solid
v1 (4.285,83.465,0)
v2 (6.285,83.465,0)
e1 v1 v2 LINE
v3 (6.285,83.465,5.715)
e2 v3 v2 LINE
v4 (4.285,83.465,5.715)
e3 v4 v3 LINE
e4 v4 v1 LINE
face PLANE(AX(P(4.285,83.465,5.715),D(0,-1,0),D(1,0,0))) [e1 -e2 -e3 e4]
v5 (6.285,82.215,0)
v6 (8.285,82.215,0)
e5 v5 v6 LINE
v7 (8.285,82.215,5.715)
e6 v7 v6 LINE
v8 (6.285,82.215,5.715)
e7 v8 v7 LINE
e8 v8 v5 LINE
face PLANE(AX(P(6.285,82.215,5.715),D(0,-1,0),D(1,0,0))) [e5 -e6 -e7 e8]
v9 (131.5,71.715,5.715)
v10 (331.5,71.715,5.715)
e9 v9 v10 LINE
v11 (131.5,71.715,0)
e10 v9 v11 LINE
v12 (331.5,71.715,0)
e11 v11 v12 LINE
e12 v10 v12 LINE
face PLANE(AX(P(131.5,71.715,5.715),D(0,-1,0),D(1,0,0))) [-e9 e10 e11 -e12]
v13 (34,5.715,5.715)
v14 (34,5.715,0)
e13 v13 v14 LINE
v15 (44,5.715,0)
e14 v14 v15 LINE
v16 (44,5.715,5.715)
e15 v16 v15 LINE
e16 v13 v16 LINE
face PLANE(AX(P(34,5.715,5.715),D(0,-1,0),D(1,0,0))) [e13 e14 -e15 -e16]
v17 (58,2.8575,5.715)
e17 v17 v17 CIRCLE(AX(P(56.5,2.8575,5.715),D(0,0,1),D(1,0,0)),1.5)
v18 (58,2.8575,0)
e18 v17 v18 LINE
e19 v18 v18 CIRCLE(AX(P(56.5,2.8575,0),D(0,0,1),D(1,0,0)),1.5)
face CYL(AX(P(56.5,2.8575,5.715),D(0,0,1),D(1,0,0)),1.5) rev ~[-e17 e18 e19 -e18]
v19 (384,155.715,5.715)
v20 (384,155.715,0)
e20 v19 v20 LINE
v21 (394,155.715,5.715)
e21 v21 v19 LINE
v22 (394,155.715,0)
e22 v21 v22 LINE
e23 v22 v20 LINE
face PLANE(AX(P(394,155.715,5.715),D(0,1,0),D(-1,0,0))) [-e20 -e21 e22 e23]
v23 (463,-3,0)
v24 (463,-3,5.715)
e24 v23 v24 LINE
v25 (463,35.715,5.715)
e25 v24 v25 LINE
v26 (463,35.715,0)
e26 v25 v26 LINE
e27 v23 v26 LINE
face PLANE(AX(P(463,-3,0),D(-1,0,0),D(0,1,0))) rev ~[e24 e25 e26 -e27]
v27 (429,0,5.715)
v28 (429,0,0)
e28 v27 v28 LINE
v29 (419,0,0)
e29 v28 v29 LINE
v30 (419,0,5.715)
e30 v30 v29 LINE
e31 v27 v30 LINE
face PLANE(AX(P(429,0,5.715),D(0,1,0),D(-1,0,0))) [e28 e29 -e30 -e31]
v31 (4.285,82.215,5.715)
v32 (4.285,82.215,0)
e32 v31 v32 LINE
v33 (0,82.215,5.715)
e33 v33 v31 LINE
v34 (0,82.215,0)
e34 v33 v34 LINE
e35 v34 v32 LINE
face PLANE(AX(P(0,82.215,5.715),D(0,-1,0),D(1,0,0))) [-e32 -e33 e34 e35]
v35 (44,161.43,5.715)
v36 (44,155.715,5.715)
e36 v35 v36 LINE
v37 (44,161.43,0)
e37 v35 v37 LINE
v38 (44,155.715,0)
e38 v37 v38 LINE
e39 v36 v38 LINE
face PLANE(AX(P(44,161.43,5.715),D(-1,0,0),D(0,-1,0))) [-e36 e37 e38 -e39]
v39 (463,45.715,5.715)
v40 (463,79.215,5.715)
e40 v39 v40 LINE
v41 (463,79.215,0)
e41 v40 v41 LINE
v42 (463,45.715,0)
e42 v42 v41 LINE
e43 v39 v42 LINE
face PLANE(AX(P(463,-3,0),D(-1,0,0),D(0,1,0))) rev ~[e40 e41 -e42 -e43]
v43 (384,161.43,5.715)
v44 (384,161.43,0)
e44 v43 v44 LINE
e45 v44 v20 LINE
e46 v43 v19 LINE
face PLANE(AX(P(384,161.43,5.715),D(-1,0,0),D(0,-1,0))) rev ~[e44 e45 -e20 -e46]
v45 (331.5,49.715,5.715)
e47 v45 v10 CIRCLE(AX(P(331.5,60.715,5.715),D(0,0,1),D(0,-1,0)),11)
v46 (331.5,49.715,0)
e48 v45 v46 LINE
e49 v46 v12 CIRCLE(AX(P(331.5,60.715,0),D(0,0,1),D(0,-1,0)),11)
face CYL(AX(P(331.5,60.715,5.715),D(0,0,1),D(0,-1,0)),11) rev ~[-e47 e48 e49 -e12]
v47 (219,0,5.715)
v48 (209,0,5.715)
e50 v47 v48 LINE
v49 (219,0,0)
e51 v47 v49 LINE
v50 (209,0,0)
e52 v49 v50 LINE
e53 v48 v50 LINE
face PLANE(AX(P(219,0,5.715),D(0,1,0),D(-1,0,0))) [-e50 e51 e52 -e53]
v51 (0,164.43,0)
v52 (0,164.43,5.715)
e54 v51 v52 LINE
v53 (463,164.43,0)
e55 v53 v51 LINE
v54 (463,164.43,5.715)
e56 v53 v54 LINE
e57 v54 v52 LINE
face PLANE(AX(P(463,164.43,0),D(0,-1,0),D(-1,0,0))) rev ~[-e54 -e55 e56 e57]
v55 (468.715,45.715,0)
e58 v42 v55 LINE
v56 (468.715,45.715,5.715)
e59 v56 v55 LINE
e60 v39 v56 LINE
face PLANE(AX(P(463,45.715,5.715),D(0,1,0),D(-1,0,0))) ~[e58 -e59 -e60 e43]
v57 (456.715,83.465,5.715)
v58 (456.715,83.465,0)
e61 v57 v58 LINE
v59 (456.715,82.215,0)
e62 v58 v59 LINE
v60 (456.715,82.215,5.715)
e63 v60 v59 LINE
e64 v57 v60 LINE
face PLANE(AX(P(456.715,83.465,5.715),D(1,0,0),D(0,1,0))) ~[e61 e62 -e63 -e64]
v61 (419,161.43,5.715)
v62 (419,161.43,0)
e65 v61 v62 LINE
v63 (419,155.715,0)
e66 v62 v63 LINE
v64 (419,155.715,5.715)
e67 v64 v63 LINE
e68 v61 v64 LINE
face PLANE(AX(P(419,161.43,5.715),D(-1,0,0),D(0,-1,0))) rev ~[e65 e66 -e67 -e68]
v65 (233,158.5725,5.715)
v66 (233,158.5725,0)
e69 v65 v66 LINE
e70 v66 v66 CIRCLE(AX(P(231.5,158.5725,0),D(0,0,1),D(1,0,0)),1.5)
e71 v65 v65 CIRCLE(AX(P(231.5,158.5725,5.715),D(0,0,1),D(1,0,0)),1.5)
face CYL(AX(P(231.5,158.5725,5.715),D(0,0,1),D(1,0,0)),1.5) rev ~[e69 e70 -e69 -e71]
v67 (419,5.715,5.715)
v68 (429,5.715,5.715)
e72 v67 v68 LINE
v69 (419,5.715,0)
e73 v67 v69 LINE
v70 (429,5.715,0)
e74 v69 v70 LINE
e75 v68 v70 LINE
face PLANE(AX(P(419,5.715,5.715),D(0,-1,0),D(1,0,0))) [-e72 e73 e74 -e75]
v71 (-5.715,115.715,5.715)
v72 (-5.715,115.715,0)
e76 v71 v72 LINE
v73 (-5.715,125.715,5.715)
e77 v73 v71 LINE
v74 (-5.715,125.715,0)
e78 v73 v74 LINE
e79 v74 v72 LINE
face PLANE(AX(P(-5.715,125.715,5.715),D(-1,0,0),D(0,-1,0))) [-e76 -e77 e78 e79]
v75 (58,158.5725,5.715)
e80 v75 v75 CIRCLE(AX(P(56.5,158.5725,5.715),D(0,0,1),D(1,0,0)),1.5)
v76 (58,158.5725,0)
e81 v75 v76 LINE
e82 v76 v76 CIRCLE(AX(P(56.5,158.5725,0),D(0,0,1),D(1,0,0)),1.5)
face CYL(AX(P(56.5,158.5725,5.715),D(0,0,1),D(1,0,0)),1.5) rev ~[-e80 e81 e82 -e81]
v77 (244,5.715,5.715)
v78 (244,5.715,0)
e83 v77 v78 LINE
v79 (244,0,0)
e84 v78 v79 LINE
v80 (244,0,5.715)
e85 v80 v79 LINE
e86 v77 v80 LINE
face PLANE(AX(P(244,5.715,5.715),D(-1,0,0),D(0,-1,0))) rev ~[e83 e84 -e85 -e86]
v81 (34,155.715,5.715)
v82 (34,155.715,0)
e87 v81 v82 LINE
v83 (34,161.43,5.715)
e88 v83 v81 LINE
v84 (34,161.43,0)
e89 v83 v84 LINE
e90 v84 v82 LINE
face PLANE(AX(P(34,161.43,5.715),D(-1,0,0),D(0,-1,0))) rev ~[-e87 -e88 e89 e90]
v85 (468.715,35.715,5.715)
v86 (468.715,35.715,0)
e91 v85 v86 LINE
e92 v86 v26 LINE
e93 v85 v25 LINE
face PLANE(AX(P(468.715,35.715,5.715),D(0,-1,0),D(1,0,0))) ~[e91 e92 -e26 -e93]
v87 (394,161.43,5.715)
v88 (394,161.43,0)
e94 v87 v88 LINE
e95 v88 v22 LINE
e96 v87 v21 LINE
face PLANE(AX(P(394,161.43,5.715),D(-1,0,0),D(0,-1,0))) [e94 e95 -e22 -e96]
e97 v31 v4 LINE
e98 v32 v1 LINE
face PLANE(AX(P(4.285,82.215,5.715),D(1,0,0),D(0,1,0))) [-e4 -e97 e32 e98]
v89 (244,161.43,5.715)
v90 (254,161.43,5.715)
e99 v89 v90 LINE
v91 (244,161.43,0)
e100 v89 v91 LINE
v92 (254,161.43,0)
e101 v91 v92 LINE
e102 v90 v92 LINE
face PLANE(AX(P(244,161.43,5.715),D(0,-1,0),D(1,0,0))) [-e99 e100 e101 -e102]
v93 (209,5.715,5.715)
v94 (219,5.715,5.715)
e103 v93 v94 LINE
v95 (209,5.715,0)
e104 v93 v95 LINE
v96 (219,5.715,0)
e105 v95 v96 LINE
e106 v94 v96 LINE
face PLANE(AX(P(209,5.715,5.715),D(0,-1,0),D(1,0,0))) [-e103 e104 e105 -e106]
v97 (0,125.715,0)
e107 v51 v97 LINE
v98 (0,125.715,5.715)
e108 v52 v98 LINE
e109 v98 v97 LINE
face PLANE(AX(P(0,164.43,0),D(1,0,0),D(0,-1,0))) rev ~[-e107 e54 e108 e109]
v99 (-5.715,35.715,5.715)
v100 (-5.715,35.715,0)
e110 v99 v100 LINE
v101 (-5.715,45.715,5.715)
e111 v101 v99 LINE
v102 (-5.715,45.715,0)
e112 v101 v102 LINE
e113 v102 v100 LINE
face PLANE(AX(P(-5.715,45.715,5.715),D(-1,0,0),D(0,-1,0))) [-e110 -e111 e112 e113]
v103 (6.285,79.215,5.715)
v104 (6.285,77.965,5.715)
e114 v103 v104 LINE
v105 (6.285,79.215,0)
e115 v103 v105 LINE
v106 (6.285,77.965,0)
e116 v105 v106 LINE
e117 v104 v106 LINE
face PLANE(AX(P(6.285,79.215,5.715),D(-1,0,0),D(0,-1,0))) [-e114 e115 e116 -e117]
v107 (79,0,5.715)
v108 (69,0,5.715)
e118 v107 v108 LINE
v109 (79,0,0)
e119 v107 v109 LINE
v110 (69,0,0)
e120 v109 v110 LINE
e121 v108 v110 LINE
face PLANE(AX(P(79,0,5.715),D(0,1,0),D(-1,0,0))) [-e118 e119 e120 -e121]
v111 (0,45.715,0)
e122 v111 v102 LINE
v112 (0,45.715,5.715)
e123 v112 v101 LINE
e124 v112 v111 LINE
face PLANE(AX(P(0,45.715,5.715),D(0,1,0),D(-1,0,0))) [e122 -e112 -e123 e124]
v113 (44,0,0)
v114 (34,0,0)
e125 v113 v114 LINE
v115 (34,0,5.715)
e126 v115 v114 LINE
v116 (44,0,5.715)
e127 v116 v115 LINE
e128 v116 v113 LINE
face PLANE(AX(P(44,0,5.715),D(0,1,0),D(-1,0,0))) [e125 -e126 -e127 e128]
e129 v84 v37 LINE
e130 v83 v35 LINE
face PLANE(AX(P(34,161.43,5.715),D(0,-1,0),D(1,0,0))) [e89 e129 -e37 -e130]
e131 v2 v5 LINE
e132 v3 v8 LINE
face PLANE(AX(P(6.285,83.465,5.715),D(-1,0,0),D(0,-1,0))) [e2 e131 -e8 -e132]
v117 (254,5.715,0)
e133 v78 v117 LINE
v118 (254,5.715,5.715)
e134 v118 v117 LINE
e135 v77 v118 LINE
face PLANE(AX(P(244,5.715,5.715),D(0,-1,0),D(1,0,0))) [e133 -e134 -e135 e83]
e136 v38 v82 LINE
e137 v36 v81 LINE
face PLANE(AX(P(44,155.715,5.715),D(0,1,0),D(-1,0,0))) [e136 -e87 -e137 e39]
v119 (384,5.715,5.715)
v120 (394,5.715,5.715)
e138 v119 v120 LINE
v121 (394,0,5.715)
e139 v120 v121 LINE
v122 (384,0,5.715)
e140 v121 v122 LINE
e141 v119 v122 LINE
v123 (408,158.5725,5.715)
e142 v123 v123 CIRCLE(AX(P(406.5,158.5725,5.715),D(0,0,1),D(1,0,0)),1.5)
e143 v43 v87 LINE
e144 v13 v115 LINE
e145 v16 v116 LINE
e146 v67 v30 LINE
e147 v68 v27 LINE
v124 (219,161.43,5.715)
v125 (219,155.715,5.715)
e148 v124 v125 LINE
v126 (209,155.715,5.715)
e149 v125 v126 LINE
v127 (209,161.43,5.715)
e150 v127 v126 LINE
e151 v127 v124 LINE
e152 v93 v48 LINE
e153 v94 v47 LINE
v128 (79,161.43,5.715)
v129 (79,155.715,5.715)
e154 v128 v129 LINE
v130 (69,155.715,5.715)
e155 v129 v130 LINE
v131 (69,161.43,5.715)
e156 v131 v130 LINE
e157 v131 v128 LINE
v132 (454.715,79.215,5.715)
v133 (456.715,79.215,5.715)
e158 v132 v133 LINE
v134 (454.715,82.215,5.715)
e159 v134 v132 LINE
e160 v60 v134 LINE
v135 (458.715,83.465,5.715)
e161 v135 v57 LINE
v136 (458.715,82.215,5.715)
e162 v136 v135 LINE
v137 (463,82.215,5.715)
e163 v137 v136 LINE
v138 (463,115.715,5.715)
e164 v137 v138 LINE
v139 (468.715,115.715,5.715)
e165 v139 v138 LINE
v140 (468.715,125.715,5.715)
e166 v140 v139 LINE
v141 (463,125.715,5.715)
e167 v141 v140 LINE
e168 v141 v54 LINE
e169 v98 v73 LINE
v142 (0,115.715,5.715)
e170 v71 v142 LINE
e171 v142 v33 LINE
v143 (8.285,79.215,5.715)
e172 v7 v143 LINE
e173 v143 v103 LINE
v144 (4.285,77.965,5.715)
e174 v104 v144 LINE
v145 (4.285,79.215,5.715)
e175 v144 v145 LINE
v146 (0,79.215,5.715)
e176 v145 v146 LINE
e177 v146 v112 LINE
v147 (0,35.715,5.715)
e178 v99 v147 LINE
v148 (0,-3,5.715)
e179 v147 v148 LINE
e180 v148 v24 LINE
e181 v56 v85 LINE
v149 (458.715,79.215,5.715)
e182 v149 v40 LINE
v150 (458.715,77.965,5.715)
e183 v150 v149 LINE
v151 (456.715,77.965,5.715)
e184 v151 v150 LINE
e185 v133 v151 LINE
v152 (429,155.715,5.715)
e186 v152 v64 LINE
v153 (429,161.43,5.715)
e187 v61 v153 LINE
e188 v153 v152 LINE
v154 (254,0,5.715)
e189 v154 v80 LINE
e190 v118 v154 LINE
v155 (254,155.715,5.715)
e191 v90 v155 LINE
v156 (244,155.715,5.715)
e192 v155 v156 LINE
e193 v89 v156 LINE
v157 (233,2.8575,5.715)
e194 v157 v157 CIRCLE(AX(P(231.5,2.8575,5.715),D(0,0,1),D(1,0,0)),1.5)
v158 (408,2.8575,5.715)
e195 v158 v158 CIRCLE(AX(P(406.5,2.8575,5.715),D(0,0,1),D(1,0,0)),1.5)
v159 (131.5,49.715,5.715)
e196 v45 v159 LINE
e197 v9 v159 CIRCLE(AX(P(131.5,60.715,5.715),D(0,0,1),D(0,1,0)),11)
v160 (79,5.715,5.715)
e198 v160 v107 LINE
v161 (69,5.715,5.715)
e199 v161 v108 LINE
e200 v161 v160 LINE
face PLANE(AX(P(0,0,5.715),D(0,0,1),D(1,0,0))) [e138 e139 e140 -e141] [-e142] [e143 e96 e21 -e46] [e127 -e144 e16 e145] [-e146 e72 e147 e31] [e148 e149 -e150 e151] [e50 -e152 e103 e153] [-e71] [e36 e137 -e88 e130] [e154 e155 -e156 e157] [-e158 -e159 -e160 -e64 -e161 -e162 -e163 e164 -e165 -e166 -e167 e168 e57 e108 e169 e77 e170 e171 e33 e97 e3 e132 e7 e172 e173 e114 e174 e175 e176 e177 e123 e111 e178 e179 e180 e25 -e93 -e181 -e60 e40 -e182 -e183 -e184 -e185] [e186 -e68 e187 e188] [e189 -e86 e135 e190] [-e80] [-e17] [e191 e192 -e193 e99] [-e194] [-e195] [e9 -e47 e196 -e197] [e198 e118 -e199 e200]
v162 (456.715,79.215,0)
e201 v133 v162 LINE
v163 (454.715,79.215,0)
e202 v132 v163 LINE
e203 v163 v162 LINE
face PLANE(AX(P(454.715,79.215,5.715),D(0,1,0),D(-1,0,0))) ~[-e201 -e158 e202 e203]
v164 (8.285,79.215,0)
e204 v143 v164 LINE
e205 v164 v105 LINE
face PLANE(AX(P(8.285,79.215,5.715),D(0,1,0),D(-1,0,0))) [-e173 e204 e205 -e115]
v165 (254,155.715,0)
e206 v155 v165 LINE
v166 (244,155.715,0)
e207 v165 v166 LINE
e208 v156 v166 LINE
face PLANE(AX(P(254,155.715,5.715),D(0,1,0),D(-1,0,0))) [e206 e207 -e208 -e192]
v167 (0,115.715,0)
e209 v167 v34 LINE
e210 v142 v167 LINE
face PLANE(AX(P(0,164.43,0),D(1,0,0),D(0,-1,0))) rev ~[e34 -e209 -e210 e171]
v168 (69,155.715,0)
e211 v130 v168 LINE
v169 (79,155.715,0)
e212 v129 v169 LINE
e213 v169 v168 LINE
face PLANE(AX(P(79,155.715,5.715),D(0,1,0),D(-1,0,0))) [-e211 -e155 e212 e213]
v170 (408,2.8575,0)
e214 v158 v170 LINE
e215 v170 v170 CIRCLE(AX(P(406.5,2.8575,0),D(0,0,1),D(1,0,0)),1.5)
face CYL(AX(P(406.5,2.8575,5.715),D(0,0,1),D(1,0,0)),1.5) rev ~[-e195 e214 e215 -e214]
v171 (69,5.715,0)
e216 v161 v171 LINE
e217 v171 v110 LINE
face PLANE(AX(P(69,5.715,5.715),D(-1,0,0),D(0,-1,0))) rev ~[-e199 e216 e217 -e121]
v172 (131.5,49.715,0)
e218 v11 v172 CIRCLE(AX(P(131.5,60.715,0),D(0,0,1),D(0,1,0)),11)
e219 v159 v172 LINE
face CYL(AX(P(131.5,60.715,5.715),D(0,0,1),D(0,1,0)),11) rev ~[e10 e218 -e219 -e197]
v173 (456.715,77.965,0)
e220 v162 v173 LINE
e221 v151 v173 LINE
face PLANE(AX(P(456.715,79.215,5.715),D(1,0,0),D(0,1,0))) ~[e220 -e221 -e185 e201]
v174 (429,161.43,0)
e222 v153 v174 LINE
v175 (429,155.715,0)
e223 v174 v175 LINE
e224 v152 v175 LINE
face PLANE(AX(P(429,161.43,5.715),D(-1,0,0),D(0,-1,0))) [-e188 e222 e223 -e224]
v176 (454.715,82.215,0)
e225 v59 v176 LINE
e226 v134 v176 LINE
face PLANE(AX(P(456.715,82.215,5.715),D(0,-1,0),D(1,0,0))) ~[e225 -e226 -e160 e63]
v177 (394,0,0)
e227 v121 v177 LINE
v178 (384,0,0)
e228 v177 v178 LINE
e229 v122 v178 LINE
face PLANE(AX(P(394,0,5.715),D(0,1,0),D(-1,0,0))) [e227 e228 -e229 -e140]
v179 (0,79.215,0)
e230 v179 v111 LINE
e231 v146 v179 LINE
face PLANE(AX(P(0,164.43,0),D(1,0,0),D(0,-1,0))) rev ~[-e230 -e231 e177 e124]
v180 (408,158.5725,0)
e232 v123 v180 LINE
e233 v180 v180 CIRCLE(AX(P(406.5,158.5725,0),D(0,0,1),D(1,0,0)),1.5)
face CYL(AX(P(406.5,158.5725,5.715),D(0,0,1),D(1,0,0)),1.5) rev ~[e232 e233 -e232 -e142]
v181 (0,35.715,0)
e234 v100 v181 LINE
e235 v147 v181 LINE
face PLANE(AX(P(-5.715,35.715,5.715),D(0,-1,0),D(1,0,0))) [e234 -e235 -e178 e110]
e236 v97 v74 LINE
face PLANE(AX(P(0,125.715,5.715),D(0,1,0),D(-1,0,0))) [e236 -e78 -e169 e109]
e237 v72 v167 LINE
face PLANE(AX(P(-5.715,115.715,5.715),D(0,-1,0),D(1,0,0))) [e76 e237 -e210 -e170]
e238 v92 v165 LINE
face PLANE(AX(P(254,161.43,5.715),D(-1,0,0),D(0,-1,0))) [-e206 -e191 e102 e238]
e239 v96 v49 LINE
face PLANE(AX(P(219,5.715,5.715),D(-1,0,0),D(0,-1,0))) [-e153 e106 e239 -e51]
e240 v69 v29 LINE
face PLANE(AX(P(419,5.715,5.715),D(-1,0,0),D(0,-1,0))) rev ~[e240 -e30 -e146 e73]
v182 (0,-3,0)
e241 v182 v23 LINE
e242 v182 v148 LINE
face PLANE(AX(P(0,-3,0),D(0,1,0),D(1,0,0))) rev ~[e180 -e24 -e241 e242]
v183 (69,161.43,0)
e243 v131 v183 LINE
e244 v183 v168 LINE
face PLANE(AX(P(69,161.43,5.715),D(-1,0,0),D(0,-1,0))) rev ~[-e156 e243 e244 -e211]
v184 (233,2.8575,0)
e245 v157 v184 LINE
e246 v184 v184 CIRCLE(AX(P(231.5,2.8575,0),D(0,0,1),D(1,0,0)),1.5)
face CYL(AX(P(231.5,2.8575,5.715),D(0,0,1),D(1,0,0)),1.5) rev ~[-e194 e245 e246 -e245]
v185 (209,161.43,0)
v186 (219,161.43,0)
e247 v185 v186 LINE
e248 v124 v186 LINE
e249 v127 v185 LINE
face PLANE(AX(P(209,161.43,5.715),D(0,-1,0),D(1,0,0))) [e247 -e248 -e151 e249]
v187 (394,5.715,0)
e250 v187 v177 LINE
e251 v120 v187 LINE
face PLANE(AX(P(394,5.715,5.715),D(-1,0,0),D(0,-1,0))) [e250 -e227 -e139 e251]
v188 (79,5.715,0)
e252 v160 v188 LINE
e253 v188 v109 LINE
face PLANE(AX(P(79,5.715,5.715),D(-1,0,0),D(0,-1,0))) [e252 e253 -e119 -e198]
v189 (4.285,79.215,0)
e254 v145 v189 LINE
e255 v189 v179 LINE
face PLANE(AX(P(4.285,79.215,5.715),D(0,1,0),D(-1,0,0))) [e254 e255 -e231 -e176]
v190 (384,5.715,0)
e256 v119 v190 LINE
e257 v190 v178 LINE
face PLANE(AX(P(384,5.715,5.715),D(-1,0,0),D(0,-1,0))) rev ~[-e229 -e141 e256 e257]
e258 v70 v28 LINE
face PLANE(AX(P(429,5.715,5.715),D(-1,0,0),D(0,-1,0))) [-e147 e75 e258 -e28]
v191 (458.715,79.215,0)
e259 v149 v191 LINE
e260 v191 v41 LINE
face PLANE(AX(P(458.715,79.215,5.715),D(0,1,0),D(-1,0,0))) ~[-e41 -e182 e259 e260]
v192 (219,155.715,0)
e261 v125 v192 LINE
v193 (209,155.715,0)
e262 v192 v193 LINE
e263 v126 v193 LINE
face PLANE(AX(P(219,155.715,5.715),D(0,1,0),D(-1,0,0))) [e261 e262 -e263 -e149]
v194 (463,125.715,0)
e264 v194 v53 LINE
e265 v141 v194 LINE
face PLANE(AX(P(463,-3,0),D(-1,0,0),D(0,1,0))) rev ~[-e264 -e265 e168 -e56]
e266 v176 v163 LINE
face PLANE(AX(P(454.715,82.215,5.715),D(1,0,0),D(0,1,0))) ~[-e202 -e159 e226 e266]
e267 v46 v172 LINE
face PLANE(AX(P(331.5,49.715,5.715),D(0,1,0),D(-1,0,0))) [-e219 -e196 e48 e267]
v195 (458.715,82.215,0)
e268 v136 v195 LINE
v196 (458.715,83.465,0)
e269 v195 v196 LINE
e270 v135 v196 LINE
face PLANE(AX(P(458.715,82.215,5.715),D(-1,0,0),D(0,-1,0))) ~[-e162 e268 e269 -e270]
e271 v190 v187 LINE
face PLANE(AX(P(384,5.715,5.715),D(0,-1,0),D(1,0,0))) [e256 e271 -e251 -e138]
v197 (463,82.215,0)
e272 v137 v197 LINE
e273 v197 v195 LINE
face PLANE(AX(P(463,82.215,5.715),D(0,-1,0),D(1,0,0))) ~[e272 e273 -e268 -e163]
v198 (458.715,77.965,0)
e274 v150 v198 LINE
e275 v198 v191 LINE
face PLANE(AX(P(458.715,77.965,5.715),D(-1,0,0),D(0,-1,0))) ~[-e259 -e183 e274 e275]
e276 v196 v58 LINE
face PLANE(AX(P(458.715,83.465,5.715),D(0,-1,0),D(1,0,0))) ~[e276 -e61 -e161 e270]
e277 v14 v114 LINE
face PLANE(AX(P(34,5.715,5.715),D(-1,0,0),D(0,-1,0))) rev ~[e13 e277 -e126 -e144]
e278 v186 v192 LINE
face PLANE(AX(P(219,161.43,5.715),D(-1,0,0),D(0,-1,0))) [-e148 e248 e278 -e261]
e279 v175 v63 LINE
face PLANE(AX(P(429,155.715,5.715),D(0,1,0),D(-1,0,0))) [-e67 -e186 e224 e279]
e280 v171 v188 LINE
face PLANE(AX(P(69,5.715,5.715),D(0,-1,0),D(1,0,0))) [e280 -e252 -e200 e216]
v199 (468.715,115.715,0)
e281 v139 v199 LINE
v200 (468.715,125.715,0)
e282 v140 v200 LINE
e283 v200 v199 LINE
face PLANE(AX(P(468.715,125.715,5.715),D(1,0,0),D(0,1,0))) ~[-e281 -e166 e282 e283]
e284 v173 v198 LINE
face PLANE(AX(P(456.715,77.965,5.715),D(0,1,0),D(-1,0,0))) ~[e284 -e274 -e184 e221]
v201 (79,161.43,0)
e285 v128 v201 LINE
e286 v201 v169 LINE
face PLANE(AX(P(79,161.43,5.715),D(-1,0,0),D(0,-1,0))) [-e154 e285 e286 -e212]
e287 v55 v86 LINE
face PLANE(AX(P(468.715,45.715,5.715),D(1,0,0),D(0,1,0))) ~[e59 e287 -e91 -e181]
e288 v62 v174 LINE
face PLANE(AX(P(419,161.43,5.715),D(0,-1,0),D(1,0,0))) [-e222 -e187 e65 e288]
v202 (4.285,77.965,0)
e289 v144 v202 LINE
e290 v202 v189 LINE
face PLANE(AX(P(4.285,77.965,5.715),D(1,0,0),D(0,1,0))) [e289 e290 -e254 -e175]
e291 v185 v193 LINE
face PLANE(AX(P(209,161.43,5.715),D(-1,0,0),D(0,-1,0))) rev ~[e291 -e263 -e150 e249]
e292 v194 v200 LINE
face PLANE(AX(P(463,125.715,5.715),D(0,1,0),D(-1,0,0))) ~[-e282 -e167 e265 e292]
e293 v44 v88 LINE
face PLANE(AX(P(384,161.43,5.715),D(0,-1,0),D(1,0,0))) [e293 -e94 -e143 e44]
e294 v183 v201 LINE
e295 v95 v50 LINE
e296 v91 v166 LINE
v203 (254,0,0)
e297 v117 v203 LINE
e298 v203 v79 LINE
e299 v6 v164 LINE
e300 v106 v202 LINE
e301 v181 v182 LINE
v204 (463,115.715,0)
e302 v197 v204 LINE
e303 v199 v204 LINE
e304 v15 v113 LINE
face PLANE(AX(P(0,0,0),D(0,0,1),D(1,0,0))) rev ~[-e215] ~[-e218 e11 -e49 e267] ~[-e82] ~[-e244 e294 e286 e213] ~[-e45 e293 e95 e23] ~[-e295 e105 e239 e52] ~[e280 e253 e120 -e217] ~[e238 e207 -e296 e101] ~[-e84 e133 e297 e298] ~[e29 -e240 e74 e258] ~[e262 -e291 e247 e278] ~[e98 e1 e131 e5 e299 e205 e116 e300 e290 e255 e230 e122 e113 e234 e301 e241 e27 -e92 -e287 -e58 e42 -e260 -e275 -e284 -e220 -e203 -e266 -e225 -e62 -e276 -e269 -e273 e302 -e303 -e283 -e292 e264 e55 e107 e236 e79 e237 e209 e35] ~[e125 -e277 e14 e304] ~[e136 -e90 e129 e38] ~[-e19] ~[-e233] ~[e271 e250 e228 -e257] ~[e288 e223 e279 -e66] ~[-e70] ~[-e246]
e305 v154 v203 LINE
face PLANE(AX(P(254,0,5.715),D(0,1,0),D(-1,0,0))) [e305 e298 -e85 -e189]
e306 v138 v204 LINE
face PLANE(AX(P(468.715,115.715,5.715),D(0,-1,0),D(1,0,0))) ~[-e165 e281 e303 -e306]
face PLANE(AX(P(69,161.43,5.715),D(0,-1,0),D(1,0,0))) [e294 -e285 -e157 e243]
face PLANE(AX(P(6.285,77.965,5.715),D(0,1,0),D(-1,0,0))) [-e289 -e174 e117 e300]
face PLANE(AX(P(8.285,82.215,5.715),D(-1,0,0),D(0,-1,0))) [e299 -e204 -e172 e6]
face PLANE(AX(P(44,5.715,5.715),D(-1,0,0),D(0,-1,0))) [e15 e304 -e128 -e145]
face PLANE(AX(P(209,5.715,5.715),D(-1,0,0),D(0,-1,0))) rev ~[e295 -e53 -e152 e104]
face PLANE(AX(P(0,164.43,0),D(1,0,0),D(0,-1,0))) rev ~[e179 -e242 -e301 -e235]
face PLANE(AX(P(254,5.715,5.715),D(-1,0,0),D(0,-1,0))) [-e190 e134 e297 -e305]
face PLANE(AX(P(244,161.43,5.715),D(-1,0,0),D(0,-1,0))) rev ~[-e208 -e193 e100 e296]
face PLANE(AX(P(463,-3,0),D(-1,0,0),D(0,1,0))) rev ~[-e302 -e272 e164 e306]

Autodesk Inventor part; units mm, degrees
ref_plane "YZ Plane" through (0, 0, 0) normal (1, 0, 0) x (0, 1, 0)
ref_plane "XZ Plane" through (0, 0, 0) normal (0, 1, 0) x (-1, 0, 0)
ref_plane "XY Plane" through (0, 0, 0) normal (0, 0, 1) x (1, 0, 0)
sketch "Sketch1" plane through (0, 0, 0) normal (0, 0, 1) x (1, 0, 0)
  line L0 (463, 164.43) -> (0, 164.43)
  line L1 (0, 164.43) -> (0, -3)
  line L2 (0, -3) -> (463, -3)
  line L3 (463, -3) -> (463, 164.43)
  point P0 (0, 0)
  point P1 (463, 161.43)
  dimension "d0" = 3
  dimension "d1" = 3
extrude "Extrusion1" add sketch "Sketch1" along normal blind 5.715
sketch "Sketch2" plane through (0, 0, 5.715) normal (0, 0, 1) x (1, 0, 0)
  line L0 (463, 164.43) -> (0, 164.43) projected
  line L1 (0, 164.43) -> (0, -3) projected
  line L2 (0, -3) -> (463, -3) projected
  line L3 (463, -3) -> (463, 164.43) projected
  line L4 (44, 0) -> (34, 0) projected
  line L5 (44, 5.715) -> (44, 0) projected
  line L6 (34, 5.715) -> (44, 5.715) projected
  line L7 (34, 5.715) -> (34, 0) projected
  line L8 (79, 0) -> (69, 0) projected
  line L9 (79, 5.715) -> (79, 0) projected
  line L10 (69, 5.715) -> (79, 5.715) projected
  line L11 (69, 5.715) -> (69, 0) projected
  line L12 (219, 0) -> (209, 0) projected
  line L13 (219, 5.715) -> (219, 0) projected
  line L14 (209, 5.715) -> (219, 5.715) projected
  line L15 (209, 5.715) -> (209, 0) projected
  line L16 (254, 0) -> (244, 0) projected
  line L17 (254, 5.715) -> (254, 0) projected
  line L18 (244, 5.715) -> (254, 5.715) projected
  line L19 (244, 5.715) -> (244, 0) projected
  line L20 (394, 0) -> (384, 0) projected
  line L21 (394, 5.715) -> (394, 0) projected
  line L22 (384, 5.715) -> (394, 5.715) projected
  line L23 (384, 5.715) -> (384, 0) projected
  line L24 (429, 0) -> (419, 0) projected
  line L25 (429, 5.715) -> (429, 0) projected
  line L26 (419, 5.715) -> (429, 5.715) projected
  line L27 (419, 5.715) -> (419, 0) projected
  line L28 (429, 155.715) -> (419, 155.715) projected
  line L29 (429, 161.43) -> (429, 155.715) projected
  line L30 (419, 161.43) -> (429, 161.43) projected
  line L31 (419, 161.43) -> (419, 155.715) projected
  line L32 (394, 155.715) -> (384, 155.715) projected
  line L33 (394, 161.43) -> (394, 155.715) projected
  line L34 (384, 161.43) -> (394, 161.43) projected
  line L35 (384, 161.43) -> (384, 155.715) projected
  line L36 (254, 155.715) -> (244, 155.715) projected
  line L37 (254, 161.43) -> (254, 155.715) projected
  line L38 (244, 161.43) -> (254, 161.43) projected
  line L39 (244, 161.43) -> (244, 155.715) projected
  line L40 (219, 155.715) -> (209, 155.715) projected
  line L41 (219, 161.43) -> (219, 155.715) projected
  line L42 (209, 161.43) -> (219, 161.43) projected
  line L43 (209, 161.43) -> (209, 155.715) projected
  line L44 (79, 155.715) -> (69, 155.715) projected
  line L45 (79, 161.43) -> (79, 155.715) projected
  line L46 (69, 161.43) -> (79, 161.43) projected
  line L47 (69, 161.43) -> (69, 155.715) projected
  line L48 (44, 155.715) -> (34, 155.715) projected
  line L49 (44, 161.43) -> (44, 155.715) projected
  line L50 (34, 161.43) -> (44, 161.43) projected
  line L51 (34, 161.43) -> (34, 155.715) projected
  point P0 (0, 0)
extrude "Extrusion2" cut sketch "Sketch2" against normal through all keep common part
sketch "Sketch3" plane through (0, 0, 5.715) normal (0, 0, 1) x (1, 0, 0)
  line L0 (44, 155.715) -> (44, 161.43) projected
  line L1 (69, 161.43) -> (69, 155.715) projected
  line L2 (219, 155.715) -> (219, 161.43) projected
  line L3 (244, 161.43) -> (244, 155.715) projected
  line L4 (394, 155.715) -> (394, 161.43) projected
  line L5 (419, 161.43) -> (419, 155.715) projected
  line L6 (419, 5.715) -> (419, 0) projected
  line L7 (394, 0) -> (394, 5.715) projected
  line L8 (244, 5.715) -> (244, 0) projected
  line L9 (219, 0) -> (219, 5.715) projected
  line L10 (69, 5.715) -> (69, 0) projected
  line L11 (44, 0) -> (44, 5.715) projected
  line L12 (44, 158.5725) -> (69, 158.5725) construction
  circle A0 centre (56.5, 158.5725) radius 1.5
  line L13 (219, 158.5725) -> (244, 158.5725) construction
  circle A1 centre (231.5, 158.5725) radius 1.5
  line L14 (394, 158.5725) -> (419, 158.5725) construction
  circle A2 centre (406.5, 158.5725) radius 1.5
  line L15 (44, 2.8575) -> (69, 2.8575) construction
  circle A3 centre (56.5, 2.8575) radius 1.5
  line L16 (219, 2.8575) -> (244, 2.8575) construction
  circle A4 centre (231.5, 2.8575) radius 1.5
  line L17 (394, 2.8575) -> (419, 2.8575) construction
  circle A5 centre (406.5, 2.8575) radius 1.5
  point P0 (0, 0)
  dimension "d6" = 3
  dimension "d8" = 3
  dimension "d9" = 3
  dimension "d10" = 3
  dimension "d11" = 3
  dimension "d12" = 3
extrude "Extrusion3" cut sketch "Sketch3" against normal through all
sketch "Sketch4" plane through (0, 0, 5.715) normal (0, 0, 1) x (1, 0, 0)
  line L0 (0, 164.43) -> (0, -3) projected
  line L1 (0, 82.215) -> (8.285, 82.215)
  line L2 (8.285, 82.215) -> (8.285, 79.215)
  line L3 (8.285, 79.215) -> (0, 79.215)
  line L4 (0, 79.215) -> (0, 82.215)
  line L5 (4.285, 83.465) -> (6.285, 83.465)
  line L6 (6.285, 83.465) -> (6.285, 77.965)
  line L7 (6.285, 77.965) -> (4.285, 77.965)
  line L8 (4.285, 77.965) -> (4.285, 83.465)
  point P0 (0, 0)
  point P1 (0, 80.715)
  point P2 (6.285, 80.715)
  point P3 (8.285, 80.715)
  dimension "d15" = 3
  dimension "d17" = 5.5
  dimension "d18" = 6.285
  dimension "d19" = 2
  dimension "d20" = 8.285
extrude "Extrusion4" cut sketch "Sketch4" against normal through all
ref_plane "Work Plane1" through (231.5, 164.43, 0) normal (-1, 0, 0) x (0, 0, 1)
sketch "Sketch5" plane through (0, 0, 5.715) normal (0, 0, 1) x (1, 0, 0)
  line L0 (0, 79.215) -> (0, -3) projected
  line L1 (0, 164.43) -> (0, 82.215) projected
  line L2 (8.285, 82.215) -> (8.285, 79.215) projected
  line L3 (0, 125.715) -> (-5.715, 125.715)
  line L4 (-5.715, 125.715) -> (-5.715, 115.715)
  line L5 (-5.715, 115.715) -> (0, 115.715)
  line L6 (0, 115.715) -> (0, 125.715)
  line L7 (0, 45.715) -> (-5.715, 45.715)
  line L8 (-5.715, 45.715) -> (-5.715, 35.715)
  line L9 (-5.715, 35.715) -> (0, 35.715)
  line L10 (0, 35.715) -> (0, 45.715)
  line L11 (-5.715, 45.715) -> (-5.715, 115.715)
  point P0 (0, 0)
  point P1 (8.285, 80.715)
  point P2 (-5.715, 80.715)
  point P3 (8.285, 80.715)
  dimension "d23" = 35
  dimension "d26" = 5.715
  dimension "d27" = 10
extrude "Extrusion5" add sketch "Sketch5" against normal up to surface (5.715 mm away)
mirror "Mirror1" about plane through (231.5, 164.43, 0) normal (-1, 0, 0) of "Extrusion5", "Extrusion4"
sketch "Sketch6" plane through (0, 0, 5.715) normal (0, 0, 1) x (1, 0, 0)
  circle A0 centre (231.5, 2.8575) radius 1.5 projected
  line L0 (356, 95.715) -> (341, 95.715) projected
  line L1 (341, 25.715) -> (356, 25.715) projected
  line L2 (348.5, 25.715) -> (348.5, 95.715)
  line L3 (331.5, 49.715) -> (131.5, 49.715)
  arc A1 (131.5, 71.715) -> (131.5, 49.715) centre (131.5, 60.715) ccw
  line L4 (131.5, 71.715) -> (331.5, 71.715)
  arc A2 (331.5, 49.715) -> (331.5, 71.715) centre (331.5, 60.715) ccw
  point P0 (0, 0)
  point P1 (231.5, 49.715)
  point P2 (348.5, 60.715)
  dimension "d30" = 200
  dimension "d32" = 22
extrude "Extrusion6" cut sketch "Sketch6" against normal through all contours L3 A1 L4 A2
properties part number "TOP PLATE"
